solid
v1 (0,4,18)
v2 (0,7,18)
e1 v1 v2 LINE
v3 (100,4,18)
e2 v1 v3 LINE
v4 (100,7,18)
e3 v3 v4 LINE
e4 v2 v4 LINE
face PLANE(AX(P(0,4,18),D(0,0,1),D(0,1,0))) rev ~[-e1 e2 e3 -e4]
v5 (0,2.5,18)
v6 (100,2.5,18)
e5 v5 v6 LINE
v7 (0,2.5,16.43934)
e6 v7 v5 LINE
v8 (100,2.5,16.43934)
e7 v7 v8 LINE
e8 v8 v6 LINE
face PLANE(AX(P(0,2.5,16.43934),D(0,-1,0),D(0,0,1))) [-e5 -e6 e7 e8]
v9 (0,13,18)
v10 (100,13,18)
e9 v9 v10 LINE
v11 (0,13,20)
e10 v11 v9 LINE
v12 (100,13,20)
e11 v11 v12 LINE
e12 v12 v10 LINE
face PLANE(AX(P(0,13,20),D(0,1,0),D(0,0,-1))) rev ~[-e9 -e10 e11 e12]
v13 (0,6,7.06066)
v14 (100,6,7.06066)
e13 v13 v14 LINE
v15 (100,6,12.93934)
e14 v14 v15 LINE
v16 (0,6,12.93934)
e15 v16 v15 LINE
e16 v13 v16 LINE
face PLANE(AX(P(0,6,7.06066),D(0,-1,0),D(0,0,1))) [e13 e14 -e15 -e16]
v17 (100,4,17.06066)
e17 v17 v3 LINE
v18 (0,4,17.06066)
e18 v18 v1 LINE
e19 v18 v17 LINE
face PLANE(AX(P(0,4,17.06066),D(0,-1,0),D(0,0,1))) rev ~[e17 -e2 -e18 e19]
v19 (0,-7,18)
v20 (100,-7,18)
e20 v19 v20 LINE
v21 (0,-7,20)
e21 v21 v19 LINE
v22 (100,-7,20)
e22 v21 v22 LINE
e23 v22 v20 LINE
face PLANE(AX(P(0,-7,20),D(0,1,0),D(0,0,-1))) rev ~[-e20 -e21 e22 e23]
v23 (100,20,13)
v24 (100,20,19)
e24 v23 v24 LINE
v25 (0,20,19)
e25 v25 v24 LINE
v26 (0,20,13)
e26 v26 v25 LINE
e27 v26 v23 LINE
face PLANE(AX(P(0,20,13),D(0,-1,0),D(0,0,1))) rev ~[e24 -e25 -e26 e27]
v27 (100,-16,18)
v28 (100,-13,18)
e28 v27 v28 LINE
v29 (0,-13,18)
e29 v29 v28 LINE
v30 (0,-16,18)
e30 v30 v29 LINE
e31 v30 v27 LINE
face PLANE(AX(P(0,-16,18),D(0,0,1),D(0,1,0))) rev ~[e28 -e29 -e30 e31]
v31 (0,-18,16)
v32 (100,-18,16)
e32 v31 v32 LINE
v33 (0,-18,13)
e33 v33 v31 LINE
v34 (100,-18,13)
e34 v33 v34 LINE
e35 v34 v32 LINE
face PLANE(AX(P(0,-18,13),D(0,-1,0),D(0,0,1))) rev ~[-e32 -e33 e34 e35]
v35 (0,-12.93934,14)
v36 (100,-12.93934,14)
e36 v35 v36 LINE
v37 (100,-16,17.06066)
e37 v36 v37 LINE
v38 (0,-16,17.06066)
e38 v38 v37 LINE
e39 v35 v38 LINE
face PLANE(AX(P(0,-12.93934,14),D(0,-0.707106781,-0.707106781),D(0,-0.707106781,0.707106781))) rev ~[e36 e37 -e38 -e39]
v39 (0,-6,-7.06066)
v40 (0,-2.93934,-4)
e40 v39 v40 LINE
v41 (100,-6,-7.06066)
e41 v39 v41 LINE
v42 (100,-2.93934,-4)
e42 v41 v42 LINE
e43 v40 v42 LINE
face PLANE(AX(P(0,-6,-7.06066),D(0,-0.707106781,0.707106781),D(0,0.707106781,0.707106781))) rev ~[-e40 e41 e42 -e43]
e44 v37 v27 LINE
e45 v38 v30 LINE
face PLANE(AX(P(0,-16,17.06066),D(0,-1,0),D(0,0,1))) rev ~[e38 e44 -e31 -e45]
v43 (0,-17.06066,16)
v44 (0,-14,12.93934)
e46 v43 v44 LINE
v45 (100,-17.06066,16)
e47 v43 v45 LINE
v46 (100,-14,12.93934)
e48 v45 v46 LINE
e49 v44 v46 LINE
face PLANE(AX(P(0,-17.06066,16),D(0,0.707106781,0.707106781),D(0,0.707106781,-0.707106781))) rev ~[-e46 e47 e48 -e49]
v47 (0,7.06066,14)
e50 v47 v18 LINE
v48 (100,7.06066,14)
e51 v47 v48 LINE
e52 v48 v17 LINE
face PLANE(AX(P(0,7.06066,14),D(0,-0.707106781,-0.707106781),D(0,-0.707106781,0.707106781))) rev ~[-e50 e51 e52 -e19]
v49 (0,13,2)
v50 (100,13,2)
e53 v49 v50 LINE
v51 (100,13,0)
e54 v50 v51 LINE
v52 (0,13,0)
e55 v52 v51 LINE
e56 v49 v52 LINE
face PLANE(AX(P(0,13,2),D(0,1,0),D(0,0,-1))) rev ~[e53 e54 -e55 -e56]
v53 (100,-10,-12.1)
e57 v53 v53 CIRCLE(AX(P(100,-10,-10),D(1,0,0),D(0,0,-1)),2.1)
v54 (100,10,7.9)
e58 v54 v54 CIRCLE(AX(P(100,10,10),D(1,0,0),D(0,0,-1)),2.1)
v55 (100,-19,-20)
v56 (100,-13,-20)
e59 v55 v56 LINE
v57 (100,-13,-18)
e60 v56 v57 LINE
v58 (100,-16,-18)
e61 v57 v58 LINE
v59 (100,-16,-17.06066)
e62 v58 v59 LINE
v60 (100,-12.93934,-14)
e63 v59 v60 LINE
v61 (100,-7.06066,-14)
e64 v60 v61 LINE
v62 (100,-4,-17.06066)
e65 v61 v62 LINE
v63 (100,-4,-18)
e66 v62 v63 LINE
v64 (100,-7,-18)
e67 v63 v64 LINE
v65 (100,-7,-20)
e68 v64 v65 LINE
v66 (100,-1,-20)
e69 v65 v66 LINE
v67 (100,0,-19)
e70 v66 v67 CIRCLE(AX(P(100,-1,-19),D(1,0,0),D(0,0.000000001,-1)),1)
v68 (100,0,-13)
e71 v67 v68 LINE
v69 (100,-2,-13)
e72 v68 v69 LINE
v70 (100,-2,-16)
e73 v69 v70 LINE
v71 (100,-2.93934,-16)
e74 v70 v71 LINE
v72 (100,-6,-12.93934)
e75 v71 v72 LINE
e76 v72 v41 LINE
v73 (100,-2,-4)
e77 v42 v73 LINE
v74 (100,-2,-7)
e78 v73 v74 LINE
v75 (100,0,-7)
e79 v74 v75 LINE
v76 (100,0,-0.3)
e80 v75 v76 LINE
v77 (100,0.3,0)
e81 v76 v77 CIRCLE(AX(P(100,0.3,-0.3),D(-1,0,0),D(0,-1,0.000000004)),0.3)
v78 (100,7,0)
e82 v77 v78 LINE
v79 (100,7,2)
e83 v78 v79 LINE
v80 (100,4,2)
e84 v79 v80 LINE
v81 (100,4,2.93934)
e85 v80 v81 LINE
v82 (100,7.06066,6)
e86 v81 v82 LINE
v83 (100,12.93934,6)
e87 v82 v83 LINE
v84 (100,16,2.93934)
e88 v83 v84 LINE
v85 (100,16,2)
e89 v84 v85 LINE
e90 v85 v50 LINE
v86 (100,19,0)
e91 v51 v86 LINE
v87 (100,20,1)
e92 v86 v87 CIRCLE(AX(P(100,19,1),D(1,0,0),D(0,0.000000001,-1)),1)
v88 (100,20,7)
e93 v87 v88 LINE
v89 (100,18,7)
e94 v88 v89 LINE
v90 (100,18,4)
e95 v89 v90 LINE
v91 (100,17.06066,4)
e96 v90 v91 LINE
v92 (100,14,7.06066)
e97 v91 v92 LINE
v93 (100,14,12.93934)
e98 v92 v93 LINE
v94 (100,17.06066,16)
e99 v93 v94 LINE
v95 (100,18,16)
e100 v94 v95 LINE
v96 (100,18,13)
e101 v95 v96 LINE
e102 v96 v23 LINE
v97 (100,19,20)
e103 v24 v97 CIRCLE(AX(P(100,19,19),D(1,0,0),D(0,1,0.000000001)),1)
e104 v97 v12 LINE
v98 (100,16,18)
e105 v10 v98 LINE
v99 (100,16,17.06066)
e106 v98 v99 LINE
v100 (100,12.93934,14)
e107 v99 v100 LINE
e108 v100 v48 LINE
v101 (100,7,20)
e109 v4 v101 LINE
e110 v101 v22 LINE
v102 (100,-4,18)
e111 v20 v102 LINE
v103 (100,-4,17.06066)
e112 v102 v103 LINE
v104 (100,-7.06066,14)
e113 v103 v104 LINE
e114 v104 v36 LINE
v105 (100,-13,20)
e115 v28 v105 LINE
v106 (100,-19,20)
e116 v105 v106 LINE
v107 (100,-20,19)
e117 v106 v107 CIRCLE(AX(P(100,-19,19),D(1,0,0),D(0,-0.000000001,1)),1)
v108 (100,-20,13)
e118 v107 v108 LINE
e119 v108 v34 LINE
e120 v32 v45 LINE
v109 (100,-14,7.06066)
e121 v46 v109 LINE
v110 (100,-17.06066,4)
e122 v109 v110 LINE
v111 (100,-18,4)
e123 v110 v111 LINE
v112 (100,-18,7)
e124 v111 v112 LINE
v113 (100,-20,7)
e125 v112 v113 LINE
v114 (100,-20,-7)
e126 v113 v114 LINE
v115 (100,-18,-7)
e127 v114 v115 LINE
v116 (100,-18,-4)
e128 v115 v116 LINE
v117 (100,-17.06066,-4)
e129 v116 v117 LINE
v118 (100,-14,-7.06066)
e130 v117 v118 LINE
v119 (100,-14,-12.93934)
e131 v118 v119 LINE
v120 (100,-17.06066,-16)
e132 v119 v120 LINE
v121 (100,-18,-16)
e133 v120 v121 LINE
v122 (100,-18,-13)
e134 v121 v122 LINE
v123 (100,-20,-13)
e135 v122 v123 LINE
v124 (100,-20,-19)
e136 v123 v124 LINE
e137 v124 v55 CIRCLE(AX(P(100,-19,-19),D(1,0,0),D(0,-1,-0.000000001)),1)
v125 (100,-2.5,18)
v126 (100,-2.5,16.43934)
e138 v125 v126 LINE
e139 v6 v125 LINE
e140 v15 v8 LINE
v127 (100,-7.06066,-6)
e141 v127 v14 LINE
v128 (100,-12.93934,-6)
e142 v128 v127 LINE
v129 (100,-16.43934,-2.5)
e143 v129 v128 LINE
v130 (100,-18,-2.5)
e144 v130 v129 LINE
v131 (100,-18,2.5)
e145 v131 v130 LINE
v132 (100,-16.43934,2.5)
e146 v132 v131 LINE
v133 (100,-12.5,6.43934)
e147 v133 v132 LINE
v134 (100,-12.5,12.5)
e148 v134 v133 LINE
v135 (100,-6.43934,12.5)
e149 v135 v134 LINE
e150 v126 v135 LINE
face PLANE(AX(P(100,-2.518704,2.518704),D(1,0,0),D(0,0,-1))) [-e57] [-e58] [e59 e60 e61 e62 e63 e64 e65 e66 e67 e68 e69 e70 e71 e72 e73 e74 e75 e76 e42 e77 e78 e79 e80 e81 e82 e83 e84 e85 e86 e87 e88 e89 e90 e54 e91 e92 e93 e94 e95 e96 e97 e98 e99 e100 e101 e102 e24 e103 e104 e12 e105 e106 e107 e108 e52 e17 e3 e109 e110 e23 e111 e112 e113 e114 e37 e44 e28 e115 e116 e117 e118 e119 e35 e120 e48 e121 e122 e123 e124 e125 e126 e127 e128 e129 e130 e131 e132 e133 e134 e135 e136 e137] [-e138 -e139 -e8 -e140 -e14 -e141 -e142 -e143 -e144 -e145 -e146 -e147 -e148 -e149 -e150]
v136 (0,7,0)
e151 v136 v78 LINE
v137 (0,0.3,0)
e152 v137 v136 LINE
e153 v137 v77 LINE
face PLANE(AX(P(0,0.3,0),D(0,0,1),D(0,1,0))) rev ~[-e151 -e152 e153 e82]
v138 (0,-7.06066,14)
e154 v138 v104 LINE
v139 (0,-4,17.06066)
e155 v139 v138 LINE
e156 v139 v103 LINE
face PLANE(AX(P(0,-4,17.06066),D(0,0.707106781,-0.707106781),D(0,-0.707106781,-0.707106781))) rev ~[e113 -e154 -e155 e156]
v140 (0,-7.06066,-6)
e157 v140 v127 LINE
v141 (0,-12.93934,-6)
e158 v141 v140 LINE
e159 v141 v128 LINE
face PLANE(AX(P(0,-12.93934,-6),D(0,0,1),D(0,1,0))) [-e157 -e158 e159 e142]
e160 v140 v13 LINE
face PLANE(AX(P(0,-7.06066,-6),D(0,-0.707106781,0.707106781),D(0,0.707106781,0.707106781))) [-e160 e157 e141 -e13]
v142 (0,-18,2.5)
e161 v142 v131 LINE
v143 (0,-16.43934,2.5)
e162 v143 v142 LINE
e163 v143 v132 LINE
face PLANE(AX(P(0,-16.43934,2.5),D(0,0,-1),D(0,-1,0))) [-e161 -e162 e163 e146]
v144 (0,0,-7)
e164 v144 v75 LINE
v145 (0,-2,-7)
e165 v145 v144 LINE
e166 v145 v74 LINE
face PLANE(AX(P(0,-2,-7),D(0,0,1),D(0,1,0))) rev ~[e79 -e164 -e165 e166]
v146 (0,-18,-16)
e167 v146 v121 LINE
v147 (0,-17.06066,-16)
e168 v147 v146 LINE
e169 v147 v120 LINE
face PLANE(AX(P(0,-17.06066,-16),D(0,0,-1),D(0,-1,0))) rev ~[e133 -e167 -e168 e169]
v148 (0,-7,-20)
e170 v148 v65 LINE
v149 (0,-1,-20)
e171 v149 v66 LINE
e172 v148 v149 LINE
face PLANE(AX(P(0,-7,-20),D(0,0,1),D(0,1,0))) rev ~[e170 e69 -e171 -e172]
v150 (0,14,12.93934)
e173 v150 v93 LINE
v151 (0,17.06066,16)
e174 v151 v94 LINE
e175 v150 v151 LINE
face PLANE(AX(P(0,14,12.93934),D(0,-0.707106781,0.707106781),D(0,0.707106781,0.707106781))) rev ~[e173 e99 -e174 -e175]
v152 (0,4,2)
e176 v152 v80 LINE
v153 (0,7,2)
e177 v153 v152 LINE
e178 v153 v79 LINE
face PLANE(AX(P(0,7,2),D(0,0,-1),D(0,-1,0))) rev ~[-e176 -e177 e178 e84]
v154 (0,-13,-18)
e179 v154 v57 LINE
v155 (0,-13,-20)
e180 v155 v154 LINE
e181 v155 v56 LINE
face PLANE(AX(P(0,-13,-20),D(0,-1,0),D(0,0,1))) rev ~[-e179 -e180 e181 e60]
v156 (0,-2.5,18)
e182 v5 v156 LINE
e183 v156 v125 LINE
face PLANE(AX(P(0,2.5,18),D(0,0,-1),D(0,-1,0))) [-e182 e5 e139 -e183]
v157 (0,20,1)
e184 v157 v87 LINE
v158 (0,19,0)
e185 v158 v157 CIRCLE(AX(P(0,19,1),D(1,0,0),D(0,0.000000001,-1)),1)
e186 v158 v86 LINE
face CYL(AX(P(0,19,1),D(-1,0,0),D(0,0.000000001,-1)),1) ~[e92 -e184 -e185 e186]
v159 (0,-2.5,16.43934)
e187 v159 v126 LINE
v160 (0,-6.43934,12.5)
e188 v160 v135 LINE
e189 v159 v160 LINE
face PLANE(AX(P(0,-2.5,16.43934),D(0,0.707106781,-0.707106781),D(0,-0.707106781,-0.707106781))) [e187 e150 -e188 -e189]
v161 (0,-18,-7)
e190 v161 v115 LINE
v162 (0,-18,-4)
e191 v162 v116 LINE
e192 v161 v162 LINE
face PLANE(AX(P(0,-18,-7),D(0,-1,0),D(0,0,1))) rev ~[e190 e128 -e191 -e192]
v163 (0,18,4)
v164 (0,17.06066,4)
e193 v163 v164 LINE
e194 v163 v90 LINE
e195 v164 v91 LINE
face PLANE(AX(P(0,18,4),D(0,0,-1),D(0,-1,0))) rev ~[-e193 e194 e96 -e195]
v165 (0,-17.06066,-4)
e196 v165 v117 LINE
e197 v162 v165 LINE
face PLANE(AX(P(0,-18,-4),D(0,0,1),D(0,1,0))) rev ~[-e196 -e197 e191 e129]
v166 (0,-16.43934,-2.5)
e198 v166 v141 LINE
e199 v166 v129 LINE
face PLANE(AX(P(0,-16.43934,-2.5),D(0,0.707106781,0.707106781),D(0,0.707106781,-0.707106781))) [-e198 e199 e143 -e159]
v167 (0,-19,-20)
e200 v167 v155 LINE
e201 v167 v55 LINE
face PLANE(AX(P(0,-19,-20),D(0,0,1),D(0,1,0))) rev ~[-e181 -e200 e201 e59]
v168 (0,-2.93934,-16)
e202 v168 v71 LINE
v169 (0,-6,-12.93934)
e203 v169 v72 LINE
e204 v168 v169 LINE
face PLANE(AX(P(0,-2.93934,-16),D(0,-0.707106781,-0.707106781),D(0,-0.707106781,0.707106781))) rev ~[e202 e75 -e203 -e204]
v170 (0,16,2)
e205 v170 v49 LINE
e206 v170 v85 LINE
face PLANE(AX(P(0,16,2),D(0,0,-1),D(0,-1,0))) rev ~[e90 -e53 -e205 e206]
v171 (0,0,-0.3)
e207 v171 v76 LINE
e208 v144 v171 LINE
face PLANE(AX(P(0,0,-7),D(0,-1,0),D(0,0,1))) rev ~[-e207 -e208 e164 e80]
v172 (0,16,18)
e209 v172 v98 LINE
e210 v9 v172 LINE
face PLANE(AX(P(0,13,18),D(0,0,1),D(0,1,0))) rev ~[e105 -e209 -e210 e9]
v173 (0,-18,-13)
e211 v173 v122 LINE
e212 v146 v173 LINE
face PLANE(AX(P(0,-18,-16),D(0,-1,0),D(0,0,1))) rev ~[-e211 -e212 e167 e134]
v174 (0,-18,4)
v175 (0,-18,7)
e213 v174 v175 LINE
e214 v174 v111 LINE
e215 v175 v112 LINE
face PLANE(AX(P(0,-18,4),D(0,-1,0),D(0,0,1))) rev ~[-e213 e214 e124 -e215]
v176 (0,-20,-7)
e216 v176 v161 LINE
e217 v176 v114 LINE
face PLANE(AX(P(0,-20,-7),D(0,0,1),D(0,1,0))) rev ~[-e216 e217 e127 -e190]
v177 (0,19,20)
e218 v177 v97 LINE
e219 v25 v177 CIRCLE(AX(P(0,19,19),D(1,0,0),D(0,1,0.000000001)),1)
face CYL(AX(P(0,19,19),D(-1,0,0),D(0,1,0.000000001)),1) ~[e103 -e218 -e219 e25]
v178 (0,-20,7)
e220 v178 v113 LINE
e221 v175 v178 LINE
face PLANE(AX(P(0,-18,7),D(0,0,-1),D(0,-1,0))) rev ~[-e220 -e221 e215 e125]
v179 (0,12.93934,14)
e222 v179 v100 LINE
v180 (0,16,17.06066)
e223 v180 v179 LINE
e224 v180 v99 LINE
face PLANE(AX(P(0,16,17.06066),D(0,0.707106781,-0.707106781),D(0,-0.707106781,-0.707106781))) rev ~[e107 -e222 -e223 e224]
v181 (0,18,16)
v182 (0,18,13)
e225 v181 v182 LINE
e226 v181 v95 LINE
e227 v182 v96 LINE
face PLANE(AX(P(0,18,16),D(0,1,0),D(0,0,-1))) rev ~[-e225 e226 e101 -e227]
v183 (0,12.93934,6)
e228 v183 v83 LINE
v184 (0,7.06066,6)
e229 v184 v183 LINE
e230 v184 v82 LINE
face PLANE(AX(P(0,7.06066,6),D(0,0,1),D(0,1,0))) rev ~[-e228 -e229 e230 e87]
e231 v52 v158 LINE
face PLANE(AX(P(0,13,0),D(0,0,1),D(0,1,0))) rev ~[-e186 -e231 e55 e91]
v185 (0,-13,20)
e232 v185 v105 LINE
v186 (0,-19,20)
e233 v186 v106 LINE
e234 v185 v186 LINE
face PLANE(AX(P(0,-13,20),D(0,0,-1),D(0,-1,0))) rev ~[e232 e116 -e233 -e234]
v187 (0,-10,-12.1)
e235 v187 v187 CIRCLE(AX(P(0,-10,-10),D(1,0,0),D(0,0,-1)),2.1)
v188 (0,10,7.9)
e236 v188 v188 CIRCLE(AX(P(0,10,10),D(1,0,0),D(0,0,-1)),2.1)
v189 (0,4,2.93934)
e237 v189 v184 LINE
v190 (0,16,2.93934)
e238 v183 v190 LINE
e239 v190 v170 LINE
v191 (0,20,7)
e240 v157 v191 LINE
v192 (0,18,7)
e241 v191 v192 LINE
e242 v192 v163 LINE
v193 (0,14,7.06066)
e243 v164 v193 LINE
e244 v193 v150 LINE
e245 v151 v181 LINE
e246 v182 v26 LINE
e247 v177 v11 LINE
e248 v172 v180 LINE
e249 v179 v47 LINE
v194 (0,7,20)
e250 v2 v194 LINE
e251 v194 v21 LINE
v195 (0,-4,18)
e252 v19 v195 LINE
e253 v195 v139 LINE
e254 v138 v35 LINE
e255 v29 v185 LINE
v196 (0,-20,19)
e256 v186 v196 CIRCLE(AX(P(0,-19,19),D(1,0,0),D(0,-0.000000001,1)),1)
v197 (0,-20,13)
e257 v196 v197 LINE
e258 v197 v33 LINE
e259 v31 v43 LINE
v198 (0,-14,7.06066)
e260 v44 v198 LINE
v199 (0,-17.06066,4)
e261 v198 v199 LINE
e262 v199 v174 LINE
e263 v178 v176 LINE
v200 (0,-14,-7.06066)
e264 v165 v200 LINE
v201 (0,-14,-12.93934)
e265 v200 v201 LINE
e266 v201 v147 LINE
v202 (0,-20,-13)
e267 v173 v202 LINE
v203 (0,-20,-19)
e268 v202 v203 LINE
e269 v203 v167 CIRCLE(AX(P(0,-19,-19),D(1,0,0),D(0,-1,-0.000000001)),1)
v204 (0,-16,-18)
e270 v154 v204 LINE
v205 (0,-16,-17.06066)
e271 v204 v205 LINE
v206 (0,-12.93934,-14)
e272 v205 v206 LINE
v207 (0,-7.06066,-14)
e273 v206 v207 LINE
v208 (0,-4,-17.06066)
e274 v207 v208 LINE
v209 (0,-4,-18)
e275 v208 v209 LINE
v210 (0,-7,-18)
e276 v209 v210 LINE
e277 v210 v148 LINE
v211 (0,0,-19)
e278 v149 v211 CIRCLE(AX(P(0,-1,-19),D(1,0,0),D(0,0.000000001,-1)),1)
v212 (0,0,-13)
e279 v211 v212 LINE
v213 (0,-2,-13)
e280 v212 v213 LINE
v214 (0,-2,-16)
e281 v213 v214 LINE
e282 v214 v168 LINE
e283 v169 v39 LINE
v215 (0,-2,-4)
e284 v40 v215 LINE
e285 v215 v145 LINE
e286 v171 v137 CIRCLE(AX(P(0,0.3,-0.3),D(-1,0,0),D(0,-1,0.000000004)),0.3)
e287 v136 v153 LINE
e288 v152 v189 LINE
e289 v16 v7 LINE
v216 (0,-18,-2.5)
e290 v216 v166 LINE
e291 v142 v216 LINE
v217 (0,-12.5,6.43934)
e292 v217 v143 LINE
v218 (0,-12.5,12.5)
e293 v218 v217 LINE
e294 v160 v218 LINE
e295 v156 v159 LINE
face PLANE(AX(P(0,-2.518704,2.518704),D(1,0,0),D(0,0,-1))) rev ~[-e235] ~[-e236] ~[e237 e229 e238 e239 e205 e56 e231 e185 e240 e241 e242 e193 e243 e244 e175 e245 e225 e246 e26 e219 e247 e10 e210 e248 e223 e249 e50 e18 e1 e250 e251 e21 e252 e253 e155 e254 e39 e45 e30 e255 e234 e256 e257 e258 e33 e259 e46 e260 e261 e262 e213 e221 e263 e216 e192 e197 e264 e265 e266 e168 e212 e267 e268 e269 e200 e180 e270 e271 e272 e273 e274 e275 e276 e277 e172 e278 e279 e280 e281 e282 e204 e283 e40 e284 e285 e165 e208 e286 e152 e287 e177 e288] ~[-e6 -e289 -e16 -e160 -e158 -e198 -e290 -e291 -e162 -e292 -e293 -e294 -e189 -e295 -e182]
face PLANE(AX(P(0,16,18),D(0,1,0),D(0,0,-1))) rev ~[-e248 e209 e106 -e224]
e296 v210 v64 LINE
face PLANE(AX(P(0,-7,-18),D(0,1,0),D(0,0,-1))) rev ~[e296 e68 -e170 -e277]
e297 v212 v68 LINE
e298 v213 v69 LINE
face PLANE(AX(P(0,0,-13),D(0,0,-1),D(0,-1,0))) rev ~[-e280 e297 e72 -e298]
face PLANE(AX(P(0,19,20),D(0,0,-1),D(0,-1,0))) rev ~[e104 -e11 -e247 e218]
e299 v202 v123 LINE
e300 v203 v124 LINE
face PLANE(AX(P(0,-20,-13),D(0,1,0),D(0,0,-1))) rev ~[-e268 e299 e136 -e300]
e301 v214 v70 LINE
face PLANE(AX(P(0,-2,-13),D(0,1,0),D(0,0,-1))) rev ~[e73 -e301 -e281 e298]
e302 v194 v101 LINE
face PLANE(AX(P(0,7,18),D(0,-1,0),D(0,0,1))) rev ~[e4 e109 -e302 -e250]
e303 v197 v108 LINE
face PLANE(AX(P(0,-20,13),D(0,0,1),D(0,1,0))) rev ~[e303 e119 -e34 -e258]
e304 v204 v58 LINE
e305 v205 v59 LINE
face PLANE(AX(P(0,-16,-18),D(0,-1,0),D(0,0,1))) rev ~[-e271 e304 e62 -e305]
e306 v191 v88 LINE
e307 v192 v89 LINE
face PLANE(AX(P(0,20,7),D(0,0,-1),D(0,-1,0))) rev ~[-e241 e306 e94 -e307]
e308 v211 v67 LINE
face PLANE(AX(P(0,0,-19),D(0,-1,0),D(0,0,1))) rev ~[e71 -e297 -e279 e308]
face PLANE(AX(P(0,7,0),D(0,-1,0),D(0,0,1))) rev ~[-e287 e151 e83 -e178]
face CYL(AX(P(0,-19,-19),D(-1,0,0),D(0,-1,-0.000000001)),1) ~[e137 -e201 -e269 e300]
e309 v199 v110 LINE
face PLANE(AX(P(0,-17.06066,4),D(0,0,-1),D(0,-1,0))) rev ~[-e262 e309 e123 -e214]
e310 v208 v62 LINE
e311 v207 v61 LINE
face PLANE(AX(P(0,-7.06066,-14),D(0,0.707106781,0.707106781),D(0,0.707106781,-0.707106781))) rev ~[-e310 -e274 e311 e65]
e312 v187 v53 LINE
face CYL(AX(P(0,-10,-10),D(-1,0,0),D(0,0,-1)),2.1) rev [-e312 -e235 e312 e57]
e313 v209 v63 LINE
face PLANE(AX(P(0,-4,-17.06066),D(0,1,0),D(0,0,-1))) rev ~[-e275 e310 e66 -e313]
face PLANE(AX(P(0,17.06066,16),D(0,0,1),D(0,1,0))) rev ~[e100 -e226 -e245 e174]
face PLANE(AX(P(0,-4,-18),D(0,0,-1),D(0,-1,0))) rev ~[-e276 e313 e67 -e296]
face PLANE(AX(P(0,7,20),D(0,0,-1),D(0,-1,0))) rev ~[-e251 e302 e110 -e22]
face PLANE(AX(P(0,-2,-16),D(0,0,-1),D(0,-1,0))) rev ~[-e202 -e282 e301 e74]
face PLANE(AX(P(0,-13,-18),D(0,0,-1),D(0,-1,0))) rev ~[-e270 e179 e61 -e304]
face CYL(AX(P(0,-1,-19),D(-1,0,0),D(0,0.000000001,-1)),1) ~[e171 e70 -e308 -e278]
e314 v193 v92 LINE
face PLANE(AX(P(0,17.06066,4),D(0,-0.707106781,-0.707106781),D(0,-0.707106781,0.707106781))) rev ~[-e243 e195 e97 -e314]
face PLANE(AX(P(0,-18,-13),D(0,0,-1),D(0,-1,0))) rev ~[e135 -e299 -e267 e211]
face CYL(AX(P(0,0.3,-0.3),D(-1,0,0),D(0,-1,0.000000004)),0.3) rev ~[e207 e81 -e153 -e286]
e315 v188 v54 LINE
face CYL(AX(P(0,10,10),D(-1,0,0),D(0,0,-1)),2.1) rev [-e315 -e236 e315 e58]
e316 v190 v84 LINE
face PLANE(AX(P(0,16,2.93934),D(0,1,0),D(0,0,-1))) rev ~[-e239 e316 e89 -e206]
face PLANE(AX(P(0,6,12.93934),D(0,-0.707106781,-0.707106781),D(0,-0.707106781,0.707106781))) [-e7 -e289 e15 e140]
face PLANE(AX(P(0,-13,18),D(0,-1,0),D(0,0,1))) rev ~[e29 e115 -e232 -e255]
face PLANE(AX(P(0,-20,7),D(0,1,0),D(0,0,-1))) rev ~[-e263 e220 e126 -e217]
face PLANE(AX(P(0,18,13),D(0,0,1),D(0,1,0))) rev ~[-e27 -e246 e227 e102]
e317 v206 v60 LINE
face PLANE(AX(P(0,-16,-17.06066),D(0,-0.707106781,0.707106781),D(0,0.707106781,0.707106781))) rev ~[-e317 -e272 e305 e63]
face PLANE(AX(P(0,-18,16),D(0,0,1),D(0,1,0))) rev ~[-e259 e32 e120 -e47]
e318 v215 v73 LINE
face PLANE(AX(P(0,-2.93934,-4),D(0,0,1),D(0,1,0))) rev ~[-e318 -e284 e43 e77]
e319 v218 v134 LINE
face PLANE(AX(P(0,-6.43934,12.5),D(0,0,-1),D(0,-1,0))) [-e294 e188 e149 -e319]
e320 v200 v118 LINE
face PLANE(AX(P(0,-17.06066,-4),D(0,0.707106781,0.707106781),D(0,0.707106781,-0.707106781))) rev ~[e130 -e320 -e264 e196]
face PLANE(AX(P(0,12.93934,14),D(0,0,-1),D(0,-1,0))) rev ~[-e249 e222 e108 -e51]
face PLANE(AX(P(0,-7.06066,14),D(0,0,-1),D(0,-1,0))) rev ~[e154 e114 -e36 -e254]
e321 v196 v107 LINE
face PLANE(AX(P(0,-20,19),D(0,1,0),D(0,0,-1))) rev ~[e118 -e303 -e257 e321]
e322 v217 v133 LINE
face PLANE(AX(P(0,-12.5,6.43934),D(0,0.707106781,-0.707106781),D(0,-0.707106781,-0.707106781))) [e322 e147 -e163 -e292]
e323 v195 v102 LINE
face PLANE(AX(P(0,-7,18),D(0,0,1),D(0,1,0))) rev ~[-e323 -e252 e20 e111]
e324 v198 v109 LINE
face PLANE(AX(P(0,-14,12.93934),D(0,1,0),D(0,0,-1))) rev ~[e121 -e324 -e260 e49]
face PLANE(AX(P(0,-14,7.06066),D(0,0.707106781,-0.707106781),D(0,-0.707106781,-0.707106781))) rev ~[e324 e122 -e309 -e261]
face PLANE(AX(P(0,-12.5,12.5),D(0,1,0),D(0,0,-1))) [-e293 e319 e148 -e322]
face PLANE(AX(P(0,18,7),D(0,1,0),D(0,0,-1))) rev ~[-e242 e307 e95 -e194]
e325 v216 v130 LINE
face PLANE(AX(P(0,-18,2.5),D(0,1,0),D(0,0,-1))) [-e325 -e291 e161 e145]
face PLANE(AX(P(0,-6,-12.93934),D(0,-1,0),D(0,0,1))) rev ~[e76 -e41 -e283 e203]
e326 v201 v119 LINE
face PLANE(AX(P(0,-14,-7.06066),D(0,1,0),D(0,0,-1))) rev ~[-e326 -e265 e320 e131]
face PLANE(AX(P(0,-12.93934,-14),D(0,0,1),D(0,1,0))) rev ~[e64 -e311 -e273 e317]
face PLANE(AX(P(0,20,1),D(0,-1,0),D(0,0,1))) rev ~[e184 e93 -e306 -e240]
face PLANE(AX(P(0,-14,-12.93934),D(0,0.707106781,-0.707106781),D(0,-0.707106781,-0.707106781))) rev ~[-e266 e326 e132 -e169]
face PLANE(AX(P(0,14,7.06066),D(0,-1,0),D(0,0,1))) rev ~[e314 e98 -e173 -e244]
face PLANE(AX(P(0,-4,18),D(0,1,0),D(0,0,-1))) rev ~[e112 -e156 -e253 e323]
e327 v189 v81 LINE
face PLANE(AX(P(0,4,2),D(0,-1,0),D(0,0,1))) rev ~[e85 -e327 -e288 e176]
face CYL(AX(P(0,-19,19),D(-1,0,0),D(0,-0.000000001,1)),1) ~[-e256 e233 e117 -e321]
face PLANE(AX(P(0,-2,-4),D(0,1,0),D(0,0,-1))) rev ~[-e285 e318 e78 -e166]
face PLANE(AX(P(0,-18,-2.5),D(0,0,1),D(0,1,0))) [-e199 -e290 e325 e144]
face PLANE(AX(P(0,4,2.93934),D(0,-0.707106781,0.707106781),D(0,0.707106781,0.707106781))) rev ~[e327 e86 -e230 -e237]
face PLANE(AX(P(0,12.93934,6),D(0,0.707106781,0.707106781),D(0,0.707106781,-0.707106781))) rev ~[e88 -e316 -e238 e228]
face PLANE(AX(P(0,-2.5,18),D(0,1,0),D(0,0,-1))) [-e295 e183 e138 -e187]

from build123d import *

# Parameters (mm, degrees)
SKETCH1_R           = 2.1
BOSS_EXTRUDE1_DEPTH = 100


with BuildPart() as part:
    # Sketch1 → Boss-Extrude1 (new body)
    with BuildSketch(Plane(origin=(0, 0, 0), x_dir=(0, 0, -1), z_dir=(1, 0, 0))):
        with BuildLine():
            Line((-13, 18), (-13, 20))
            Line((-13, 20), (-19, 20))
            ThreePointArc((-19, 20), (-19.707106781, 19.707106781), (-20, 19))
            Line((-20, 19), (-20, 13))
            Line((-20, 13), (-18, 13))
            Line((-18, 13), (-18, 16))
            Line((-18, 16), (-17.060660172, 16))
            Line((-17.060660172, 16), (-14, 12.939339828))
            Line((-14, 12.939339828), (-14, 7.060660172))
            Line((-14, 7.060660172), (-17.060660172, 4))
            Line((-17.060660172, 4), (-18, 4))
            Line((-18, 4), (-18, 7))
            Line((-18, 7), (-20, 7))
            Line((-20, 7), (-20, -7))
            Line((-20, -7), (-18, -7))
            Line((-18, -7), (-18, -4))
            Line((-18, -4), (-17.060660172, -4))
            Line((-17.060660172, -4), (-14, -7.060660172))
            Line((-14, -7.060660172), (-14, -12.939339828))
            Line((-14, -12.939339828), (-17.060660172, -16))
            Line((-17.060660172, -16), (-18, -16))
            Line((-18, -16), (-18, -13))
            Line((-18, -13), (-20, -13))
            Line((-20, -13), (-20, -19))
            ThreePointArc((-20, -19), (-19.707106781, -19.707106781), (-19, -20))
            Line((-19, -20), (-13, -20))
            Line((-13, -20), (-13, -18))
            Line((-13, -18), (-16, -18))
            Line((-16, -18), (-16, -17.060660172))
            Line((-16, -17.060660172), (-12.939339828, -14))
            Line((-12.939339828, -14), (-7.060660172, -14))
            Line((-7.060660172, -14), (-4, -17.060660172))
            Line((-4, -17.060660172), (-4, -18))
            Line((-4, -18), (-7, -18))
            Line((-7, -18), (-7, -20))
            Line((-7, -20), (7, -20))
            Line((7, -20), (7, -18))
            Line((7, -18), (4, -18))
            Line((4, -18), (4, -17.060660172))
            Line((4, -17.060660172), (7.060660172, -14))
            Line((7.060660172, -14), (12.939339828, -14))
            Line((12.939339828, -14), (16, -17.060660172))
            Line((16, -17.060660172), (16, -18))
            Line((16, -18), (13, -18))
            Line((13, -18), (13, -20))
            Line((13, -20), (19, -20))
            ThreePointArc((19, -20), (19.707106781, -19.707106781), (20, -19))
            Line((20, -19), (20, -13))
            Line((20, -13), (18, -13))
            Line((18, -13), (18, -16))
            Line((18, -16), (17.060660172, -16))
            Line((17.060660172, -16), (14, -12.939339828))
            Line((14, -12.939339828), (14, -7.060660172))
            Line((14, -7.060660172), (17.060660172, -4))
            Line((17.060660172, -4), (18, -4))
            Line((18, -4), (18, -7))
            Line((18, -7), (20, -7))
            Line((20, -7), (20, -1))
            ThreePointArc((20, -1), (19.707106781, -0.292893219), (19, 0))
            Line((19, 0), (13, 0))
            Line((13, 0), (13, -2))
            Line((13, -2), (16, -2))
            Line((16, -2), (16, -2.939339828))
            Line((16, -2.939339828), (12.939339828, -6))
            Line((12.939339828, -6), (7.060660172, -6))
            Line((7.060660172, -6), (4, -2.939339828))
            Line((4, -2.939339828), (4, -2))
            Line((4, -2), (7, -2))
            Line((7, -2), (7, 0))
            Line((7, 0), (0.3, 0))
            ThreePointArc((0.3, 0), (0.087867966, 0.087867966), (0, 0.3))
            Line((0, 0.3), (0, 7))
            Line((0, 7), (-2, 7))
            Line((-2, 7), (-2, 4))
            Line((-2, 4), (-2.939339828, 4))
            Line((-2.939339828, 4), (-6, 7.060660172))
            Line((-6, 7.060660172), (-6, 12.939339828))
            Line((-6, 12.939339828), (-2.939339828, 16))
            Line((-2.939339828, 16), (-2, 16))
            Line((-2, 16), (-2, 13))
            Line((-2, 13), (0, 13))
            Line((0, 13), (0, 19))
            ThreePointArc((0, 19), (-0.292893219, 19.707106781), (-1, 20))
            Line((-1, 20), (-7, 20))
            Line((-7, 20), (-7, 18))
            Line((-7, 18), (-4, 18))
            Line((-4, 18), (-4, 17.060660172))
            Line((-4, 17.060660172), (-7.060660172, 14))
            Line((-7.060660172, 14), (-12.939339828, 14))
            Line((-12.939339828, 14), (-16, 17.060660172))
            Line((-16, 17.060660172), (-16, 18))
            Line((-16, 18), (-13, 18))
        make_face()
        with Locations((10, -10)):
            Circle(SKETCH1_R, mode=Mode.SUBTRACT)
        with Locations((-10, 10)):
            Circle(SKETCH1_R, mode=Mode.SUBTRACT)
        Polygon((6, -7.060660172), (-7.060660172, 6), (-12.939339828, 6), (-16.439339828, 2.5), (-18, 2.5), (-18, -2.5), (-16.439339828, -2.5), (-12.5, -6.439339828), (-12.5, -12.5), (-6.439339828, -12.5), (-2.5, -16.439339828), (-2.5, -18), (2.5, -18), (2.5, -16.439339828), (6, -12.939339828), align=None, mode=Mode.SUBTRACT)
    extrude(amount=BOSS_EXTRUDE1_DEPTH)


solid = part.part
